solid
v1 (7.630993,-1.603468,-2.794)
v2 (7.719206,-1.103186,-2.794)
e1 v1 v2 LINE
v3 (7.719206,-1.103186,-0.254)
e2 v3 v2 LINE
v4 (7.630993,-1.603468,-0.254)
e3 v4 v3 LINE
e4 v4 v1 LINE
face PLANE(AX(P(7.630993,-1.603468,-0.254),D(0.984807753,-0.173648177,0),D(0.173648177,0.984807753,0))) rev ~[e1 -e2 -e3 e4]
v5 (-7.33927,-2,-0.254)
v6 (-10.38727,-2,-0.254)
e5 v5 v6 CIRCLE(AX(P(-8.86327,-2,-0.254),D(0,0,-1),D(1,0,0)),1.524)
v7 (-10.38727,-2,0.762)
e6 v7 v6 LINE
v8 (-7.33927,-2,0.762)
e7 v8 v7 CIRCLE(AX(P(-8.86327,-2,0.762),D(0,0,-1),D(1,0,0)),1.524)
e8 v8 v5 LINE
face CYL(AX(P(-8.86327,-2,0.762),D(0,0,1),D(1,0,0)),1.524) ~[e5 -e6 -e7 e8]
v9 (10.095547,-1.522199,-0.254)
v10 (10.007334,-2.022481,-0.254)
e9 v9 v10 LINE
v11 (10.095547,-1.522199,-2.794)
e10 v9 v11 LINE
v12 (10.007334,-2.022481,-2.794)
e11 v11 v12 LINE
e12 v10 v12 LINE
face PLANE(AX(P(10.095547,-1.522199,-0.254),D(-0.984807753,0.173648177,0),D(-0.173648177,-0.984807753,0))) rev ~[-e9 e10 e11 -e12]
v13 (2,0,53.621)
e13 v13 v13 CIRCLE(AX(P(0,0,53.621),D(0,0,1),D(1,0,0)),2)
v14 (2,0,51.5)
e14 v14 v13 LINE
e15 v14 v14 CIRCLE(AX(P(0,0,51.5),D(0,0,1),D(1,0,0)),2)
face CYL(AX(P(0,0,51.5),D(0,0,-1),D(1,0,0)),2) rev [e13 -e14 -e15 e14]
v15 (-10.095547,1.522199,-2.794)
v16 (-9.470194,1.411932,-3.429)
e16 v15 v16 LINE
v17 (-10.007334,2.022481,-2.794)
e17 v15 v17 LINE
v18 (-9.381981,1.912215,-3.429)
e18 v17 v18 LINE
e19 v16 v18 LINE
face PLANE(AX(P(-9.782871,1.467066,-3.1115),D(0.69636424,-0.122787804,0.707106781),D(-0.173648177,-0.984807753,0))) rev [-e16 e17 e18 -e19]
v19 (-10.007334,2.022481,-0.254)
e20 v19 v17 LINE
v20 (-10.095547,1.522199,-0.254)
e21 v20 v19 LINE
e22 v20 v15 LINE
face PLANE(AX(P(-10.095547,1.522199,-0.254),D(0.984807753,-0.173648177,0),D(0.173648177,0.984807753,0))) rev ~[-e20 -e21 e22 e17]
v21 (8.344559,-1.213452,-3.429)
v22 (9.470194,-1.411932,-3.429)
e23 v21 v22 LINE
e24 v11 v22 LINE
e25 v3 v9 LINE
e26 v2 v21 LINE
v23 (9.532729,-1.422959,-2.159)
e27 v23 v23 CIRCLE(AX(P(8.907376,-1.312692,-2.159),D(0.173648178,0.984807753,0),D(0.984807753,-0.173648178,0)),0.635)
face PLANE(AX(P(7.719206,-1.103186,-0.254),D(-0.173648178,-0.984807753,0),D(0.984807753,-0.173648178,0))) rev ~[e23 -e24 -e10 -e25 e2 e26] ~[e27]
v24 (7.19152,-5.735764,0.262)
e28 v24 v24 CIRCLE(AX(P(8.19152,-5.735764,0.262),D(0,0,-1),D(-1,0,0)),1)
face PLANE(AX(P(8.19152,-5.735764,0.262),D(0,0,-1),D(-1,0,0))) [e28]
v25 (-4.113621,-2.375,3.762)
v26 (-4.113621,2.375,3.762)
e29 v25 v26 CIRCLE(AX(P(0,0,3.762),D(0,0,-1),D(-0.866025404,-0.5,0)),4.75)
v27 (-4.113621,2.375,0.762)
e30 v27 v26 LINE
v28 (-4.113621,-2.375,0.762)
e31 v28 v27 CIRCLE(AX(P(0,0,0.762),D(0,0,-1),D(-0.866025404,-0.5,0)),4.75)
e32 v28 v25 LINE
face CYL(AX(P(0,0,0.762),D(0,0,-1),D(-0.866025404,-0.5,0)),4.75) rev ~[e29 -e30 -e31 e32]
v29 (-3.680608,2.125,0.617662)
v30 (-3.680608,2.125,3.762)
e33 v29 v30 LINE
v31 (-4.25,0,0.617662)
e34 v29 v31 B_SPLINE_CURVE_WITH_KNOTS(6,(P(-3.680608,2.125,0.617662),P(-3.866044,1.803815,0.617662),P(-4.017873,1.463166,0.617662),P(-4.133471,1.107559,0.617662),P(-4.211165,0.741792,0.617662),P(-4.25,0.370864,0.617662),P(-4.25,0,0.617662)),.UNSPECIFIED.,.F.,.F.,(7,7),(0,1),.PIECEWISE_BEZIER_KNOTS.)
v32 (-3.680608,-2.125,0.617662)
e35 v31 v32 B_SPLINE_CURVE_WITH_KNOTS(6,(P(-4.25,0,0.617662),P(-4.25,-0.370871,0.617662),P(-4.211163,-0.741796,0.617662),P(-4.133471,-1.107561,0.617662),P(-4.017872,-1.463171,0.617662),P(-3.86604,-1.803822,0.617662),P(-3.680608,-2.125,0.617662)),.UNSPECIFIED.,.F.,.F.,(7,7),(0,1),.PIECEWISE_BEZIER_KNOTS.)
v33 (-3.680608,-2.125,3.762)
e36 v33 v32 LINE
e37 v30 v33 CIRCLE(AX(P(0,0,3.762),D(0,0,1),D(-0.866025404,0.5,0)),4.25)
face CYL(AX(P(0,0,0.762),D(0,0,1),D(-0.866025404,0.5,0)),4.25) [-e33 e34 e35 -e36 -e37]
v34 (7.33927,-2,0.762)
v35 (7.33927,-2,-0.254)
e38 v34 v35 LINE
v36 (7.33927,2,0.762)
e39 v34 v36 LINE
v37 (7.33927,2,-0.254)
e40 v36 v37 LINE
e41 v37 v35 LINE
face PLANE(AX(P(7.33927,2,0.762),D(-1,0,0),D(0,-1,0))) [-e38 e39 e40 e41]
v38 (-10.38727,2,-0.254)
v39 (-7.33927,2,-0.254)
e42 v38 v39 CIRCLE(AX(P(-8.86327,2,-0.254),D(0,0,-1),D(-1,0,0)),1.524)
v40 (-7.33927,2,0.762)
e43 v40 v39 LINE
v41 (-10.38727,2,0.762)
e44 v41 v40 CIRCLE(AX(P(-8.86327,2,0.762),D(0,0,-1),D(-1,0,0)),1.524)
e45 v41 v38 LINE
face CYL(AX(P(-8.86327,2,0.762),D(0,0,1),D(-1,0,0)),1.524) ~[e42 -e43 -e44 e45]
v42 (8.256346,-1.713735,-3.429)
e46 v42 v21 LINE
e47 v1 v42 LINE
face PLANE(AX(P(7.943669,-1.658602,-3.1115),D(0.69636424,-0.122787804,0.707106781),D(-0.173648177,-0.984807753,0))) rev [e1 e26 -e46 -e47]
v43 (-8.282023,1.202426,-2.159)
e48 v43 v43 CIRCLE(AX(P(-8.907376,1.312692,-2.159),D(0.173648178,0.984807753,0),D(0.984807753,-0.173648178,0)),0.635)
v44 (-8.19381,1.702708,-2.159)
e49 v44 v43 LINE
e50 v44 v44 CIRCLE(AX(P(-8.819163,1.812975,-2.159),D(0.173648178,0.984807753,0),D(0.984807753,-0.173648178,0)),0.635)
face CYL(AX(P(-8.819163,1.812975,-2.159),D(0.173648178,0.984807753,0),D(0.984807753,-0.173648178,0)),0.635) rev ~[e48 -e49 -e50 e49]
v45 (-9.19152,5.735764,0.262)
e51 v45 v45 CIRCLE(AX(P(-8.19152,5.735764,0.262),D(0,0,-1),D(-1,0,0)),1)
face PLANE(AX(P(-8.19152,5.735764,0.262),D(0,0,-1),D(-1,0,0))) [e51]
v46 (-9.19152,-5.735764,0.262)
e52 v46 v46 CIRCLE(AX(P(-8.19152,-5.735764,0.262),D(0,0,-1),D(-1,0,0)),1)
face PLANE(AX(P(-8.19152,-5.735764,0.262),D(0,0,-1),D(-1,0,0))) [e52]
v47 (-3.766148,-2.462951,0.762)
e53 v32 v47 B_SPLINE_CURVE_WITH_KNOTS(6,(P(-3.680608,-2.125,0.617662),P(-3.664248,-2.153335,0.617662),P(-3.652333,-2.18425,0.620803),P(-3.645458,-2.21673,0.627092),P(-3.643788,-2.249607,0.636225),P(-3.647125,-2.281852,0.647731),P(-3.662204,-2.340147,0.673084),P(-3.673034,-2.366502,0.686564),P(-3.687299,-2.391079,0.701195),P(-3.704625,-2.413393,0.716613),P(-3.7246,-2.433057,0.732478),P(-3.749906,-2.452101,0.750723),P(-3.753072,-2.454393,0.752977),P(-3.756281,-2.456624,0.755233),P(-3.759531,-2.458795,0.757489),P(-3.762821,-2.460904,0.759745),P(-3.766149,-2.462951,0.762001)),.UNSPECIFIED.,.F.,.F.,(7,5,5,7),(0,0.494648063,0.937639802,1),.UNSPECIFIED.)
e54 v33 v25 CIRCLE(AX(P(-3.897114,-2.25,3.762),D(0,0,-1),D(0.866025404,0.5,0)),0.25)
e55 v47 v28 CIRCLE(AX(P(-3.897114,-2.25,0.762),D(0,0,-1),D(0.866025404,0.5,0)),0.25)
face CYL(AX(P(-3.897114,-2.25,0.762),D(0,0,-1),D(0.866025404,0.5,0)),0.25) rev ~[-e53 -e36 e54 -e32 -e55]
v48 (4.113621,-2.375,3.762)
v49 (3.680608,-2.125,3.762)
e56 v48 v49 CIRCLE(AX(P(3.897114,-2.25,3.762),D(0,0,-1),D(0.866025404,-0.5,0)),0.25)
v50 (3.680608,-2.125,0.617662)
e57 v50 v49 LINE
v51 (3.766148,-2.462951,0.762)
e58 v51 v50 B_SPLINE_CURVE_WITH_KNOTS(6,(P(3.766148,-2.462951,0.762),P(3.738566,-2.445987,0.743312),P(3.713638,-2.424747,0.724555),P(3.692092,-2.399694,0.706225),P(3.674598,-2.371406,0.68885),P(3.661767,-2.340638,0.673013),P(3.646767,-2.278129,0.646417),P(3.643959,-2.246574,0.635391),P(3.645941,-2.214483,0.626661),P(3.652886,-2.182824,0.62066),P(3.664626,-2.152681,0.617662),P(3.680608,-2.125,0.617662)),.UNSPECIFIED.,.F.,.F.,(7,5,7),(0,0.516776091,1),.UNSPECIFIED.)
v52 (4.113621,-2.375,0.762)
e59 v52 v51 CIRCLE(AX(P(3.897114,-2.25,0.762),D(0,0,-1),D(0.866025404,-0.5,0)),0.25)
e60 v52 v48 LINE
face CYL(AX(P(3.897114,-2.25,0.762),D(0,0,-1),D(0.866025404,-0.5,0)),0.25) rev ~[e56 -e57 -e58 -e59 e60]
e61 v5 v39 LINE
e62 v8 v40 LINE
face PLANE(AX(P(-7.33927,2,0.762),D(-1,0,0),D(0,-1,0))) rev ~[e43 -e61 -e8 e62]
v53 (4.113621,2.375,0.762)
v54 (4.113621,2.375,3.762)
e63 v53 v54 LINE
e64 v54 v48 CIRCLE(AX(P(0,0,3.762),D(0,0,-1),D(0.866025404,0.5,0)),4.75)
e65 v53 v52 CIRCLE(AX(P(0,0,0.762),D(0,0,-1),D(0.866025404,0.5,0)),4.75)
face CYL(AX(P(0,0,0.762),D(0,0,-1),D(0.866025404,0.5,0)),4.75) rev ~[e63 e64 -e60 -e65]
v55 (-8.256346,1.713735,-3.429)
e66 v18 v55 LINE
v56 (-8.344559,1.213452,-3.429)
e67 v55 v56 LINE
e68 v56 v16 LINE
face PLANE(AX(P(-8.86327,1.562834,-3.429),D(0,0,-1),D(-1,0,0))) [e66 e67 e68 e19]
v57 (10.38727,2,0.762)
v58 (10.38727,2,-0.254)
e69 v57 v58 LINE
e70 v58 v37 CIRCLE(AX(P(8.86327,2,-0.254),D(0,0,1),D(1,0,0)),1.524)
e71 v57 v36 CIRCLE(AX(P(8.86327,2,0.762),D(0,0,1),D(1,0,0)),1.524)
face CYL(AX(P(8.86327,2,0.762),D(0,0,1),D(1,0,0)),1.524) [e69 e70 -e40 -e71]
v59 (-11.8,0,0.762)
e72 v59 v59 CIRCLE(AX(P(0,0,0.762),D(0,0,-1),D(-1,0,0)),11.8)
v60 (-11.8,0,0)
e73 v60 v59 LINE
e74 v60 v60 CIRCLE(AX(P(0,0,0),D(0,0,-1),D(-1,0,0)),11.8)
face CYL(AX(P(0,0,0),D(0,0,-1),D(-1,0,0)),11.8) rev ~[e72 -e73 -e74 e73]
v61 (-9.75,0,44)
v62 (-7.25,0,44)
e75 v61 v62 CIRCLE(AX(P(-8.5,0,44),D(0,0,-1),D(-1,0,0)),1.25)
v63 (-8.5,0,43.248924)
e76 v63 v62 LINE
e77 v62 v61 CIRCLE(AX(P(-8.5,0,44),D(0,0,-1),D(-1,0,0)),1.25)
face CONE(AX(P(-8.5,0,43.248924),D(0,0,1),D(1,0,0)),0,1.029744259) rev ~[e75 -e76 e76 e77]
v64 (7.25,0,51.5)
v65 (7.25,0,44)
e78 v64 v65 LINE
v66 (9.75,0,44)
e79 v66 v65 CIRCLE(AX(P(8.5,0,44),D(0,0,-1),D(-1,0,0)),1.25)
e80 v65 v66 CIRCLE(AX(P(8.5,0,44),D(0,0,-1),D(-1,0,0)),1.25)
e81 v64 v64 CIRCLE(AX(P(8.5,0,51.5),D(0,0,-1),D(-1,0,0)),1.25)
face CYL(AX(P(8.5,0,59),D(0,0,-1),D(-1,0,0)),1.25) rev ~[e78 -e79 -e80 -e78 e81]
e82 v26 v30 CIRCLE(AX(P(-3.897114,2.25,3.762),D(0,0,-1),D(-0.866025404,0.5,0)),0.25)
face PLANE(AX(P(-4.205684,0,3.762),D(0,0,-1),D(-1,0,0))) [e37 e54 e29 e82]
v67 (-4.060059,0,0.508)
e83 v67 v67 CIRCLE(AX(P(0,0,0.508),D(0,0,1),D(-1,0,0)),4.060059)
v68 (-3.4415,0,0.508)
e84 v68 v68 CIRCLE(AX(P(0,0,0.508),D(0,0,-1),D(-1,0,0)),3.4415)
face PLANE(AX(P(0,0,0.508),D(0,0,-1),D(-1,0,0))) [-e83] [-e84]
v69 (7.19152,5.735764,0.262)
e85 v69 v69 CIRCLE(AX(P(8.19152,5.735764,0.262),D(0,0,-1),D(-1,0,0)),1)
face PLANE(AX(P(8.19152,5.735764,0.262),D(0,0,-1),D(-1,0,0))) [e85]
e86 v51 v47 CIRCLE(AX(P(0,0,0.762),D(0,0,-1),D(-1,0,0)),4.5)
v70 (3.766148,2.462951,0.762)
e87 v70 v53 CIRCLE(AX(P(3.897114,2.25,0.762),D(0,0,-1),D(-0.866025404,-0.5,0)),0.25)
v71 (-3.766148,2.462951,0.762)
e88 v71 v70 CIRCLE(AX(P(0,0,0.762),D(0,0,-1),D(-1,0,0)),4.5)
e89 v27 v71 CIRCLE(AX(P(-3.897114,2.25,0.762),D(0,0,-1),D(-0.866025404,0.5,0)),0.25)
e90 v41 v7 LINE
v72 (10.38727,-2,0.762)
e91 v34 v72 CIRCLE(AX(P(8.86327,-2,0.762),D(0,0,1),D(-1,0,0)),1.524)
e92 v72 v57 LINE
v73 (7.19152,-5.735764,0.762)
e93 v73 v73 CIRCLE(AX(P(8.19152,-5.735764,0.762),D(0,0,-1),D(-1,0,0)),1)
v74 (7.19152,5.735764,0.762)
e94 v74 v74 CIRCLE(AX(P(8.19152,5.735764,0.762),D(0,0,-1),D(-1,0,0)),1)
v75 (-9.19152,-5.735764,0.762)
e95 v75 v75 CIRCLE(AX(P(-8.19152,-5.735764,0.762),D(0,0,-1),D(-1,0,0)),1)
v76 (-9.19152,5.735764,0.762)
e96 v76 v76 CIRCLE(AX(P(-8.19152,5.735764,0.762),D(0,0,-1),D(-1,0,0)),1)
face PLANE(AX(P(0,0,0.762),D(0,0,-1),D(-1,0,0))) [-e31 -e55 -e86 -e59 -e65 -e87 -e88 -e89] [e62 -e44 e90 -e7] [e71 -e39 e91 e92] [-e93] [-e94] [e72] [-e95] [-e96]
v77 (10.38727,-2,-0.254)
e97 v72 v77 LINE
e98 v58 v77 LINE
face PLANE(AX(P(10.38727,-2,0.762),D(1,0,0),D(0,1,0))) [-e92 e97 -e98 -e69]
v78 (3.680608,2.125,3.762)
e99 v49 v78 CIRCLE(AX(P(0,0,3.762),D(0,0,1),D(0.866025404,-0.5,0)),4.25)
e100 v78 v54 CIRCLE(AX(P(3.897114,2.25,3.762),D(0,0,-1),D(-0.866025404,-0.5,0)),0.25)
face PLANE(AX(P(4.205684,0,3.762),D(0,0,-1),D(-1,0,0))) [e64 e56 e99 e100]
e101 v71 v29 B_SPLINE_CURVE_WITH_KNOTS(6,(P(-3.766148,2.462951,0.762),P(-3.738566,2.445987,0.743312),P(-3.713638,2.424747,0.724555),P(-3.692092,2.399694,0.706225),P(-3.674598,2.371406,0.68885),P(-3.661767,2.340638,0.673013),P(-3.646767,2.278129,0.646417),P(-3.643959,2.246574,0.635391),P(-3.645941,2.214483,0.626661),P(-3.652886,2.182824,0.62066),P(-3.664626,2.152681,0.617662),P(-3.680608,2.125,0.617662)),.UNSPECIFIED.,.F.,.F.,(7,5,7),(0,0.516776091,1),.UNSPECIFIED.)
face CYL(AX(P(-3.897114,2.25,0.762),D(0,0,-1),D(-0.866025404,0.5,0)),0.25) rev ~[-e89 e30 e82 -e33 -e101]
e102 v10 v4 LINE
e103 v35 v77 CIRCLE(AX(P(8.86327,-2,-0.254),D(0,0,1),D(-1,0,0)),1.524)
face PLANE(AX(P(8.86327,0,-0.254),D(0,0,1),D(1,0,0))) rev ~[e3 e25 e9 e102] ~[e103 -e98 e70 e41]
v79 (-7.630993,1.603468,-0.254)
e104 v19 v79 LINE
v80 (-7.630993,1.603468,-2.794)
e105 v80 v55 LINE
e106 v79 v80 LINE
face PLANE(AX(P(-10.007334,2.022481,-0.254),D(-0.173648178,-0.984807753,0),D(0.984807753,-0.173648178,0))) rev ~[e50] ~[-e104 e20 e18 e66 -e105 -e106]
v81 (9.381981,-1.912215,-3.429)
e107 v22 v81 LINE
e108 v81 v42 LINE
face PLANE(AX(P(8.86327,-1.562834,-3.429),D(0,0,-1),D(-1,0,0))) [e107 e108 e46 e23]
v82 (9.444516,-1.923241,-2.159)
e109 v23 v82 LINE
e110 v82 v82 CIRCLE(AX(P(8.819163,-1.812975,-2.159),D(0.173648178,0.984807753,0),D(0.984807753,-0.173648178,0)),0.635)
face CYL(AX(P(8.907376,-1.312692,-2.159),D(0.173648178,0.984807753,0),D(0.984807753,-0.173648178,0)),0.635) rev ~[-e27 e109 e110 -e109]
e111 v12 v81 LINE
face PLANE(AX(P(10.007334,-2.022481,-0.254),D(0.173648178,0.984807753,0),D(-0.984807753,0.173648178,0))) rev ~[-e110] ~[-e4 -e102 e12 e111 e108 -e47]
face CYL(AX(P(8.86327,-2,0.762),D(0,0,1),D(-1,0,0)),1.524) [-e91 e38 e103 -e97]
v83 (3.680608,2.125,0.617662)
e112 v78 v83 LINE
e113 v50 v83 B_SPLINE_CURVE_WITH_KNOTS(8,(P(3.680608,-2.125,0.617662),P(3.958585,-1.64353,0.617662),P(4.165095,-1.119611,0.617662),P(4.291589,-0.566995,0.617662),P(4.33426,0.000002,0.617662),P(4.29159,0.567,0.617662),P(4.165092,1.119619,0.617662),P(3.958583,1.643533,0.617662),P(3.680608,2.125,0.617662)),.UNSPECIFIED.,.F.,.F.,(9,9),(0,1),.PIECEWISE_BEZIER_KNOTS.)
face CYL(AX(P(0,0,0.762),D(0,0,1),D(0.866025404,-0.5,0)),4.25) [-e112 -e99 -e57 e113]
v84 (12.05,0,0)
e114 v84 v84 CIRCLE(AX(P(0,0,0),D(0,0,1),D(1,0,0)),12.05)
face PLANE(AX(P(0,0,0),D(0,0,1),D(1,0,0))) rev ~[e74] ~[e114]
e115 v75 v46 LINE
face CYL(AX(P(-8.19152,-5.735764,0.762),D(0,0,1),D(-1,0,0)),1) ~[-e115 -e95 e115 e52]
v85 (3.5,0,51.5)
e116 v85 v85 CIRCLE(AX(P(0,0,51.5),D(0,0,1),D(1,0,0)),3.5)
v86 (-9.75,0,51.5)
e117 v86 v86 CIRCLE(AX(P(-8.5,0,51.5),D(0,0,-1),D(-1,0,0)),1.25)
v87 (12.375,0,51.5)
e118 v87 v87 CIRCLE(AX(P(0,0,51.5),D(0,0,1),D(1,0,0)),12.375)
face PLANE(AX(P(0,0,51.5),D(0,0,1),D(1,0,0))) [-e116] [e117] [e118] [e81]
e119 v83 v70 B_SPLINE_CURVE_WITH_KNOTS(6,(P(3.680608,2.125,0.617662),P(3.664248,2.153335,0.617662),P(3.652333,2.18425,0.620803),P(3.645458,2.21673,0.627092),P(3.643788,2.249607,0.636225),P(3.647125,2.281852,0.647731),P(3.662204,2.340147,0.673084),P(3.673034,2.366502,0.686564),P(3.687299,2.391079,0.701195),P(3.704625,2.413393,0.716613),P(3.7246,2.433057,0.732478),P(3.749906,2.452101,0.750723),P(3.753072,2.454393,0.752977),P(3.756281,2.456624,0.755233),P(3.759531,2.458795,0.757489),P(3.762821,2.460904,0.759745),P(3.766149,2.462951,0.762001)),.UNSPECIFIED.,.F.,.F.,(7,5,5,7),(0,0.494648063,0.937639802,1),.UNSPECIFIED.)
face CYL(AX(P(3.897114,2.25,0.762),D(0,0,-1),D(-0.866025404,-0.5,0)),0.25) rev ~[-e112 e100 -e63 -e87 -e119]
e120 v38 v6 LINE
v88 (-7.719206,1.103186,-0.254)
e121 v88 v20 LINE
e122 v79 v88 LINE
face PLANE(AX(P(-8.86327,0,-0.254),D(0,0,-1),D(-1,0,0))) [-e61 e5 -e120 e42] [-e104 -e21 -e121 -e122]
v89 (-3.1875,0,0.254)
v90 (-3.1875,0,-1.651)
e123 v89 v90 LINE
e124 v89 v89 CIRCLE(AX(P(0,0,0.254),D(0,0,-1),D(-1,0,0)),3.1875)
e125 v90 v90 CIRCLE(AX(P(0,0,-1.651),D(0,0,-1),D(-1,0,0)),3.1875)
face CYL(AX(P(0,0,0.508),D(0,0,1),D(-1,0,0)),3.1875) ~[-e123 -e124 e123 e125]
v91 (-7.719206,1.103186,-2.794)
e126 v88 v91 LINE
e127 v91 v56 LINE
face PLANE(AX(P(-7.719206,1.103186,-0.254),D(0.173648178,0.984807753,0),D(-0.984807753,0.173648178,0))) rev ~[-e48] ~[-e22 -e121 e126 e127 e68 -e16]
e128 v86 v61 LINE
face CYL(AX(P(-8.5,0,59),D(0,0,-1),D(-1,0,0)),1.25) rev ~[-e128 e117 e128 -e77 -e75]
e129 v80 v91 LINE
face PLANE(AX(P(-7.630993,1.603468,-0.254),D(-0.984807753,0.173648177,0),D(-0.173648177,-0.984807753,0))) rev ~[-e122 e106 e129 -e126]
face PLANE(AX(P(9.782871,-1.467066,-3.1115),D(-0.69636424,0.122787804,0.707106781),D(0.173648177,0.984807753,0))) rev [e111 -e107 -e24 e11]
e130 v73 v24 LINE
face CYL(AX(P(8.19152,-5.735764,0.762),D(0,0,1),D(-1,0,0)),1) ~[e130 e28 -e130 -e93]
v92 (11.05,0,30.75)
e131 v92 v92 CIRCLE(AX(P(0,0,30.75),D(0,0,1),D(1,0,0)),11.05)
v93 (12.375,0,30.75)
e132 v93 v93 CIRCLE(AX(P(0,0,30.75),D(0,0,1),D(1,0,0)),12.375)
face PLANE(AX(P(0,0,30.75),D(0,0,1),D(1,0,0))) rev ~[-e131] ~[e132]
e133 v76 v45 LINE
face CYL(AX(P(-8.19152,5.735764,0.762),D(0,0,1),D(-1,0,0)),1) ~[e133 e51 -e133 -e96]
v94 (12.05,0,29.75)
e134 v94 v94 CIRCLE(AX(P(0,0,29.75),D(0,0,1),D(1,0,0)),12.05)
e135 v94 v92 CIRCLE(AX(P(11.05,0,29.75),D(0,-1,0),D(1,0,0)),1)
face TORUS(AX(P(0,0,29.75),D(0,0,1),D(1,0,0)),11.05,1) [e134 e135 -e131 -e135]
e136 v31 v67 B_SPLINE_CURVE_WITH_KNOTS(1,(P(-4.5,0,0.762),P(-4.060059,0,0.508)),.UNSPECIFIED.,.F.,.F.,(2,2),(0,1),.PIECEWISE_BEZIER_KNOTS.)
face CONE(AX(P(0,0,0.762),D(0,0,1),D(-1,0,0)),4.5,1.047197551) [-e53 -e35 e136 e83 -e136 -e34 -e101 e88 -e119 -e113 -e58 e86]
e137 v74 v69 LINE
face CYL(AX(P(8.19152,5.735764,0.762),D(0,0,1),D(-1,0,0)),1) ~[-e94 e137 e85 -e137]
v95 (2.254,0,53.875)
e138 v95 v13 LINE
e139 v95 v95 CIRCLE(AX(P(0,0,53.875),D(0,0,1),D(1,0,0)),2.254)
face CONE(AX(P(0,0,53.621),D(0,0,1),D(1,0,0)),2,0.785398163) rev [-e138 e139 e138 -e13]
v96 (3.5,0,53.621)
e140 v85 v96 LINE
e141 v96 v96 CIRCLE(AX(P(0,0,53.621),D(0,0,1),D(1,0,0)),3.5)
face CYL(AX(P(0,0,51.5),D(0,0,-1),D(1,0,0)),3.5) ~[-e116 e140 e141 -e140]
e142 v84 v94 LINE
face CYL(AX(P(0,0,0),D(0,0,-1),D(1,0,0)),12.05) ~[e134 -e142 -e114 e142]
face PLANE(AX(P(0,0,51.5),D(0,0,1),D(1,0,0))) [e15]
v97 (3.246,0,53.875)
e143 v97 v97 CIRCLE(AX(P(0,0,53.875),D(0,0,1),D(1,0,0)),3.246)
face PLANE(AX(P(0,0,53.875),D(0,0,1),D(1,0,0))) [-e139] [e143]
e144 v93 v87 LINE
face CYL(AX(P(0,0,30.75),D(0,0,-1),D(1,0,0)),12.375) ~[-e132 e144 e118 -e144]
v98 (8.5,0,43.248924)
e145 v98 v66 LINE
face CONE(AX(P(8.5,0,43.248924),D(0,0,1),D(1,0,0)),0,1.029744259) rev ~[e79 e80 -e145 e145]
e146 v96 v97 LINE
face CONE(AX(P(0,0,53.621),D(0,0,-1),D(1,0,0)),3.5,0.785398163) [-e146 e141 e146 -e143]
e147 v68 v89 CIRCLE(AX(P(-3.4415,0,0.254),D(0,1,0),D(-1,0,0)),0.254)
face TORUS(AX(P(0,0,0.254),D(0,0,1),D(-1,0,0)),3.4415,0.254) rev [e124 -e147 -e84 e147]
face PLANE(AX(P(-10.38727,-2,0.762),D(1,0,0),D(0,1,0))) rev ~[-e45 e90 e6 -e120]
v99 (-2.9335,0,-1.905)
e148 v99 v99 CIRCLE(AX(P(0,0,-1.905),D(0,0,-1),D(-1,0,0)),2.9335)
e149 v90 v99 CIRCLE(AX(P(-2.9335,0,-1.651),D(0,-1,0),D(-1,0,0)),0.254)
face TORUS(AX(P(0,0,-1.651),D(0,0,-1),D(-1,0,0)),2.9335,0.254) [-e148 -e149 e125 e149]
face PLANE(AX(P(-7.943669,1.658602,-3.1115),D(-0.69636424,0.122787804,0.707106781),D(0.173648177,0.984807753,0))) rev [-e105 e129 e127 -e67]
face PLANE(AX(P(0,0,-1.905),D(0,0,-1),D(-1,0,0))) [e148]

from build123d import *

# Parameters (mm, degrees)
SKETCH1_R                 = 12.05
BOSS_EXTRUDE1_DEPTH       = 30.75
FILLET2_R                 = 1
SKETCH2_R                 = 12.375
BOSS_EXTRUDE2_DEPTH       = 20.75
SKETCH3_R                 = 3.5
SKETCH3_R_2               = 2
BOSS_EXTRUDE3_DEPTH       = 2.375
CHAMFER1_SIZE             = 0.254
M3X0_5_TAPPED_HOLE1_D     = 2.5
M3X0_5_TAPPED_HOLE1_DEPTH = 7.5
M3X0_5_TAPPED_HOLE1_TIP   = 0.751075774
SKETCH7_R                 = 11.8
CUT_EXTRUDE1_DEPTH        = 0.762
SKETCH8_R                 = 4.5
BOSS_EXTRUDE4_DEPTH       = 0.254
BOSS_EXTRUDE4_TAPER       = 60
SKETCH9_R                 = 3.1875
BOSS_EXTRUDE5_DEPTH       = 2.413
FILLET1_R                 = 0.254
SKETCH10_R                = 1.524
BOSS_EXTRUDE6_DEPTH       = 1.016
BOSS_EXTRUDE7_DEPTH       = 3.175
SKETCH12_R                = 0.635
CUT_EXTRUDE2_DEPTH        = 3.175
CHAMFER2_SIZE             = 0.635
BOSS_EXTRUDE8_DEPTH       = 1.016
CUT_EXTRUDE3_DEPTH        = 10
CUT_EXTRUDE3_DEPTH_BACK   = 3
SKETCH15_R                = 1
BOSS_EXTRUDE9_DEPTH       = 0.5


with BuildPart() as part:
    # Sketch1 → Boss-Extrude1 (new body)
    with BuildSketch(Plane.XY):
        Circle(SKETCH1_R)
    extrude(amount=BOSS_EXTRUDE1_DEPTH)

    # Fillet2
    fillet2_edges = [part.edges().sort_by_distance(p)[0] for p in [
        (-12.05, 0, 30.75),
    ]]
    fillet(fillet2_edges, radius=FILLET2_R)

    # Sketch2 → Boss-Extrude2 (add)
    with BuildSketch(Plane.XY.offset(30.75)):
        Circle(SKETCH2_R)
    extrude(amount=BOSS_EXTRUDE2_DEPTH)

    # Sketch3 → Boss-Extrude3 (add)
    with BuildSketch(Plane.XY.offset(51.5)):
        Circle(SKETCH3_R)
        Circle(SKETCH3_R_2, mode=Mode.SUBTRACT)
    extrude(amount=BOSS_EXTRUDE3_DEPTH)

    # Chamfer1
    chamfer1_edges = [part.edges().sort_by_distance(p)[0] for p in [
        (-3.5, 0, 53.875),
        (-2, 0, 53.875),
    ]]
    chamfer(chamfer1_edges, length=CHAMFER1_SIZE)

    # M3x0.5 Tapped Hole1
    with Locations(Plane.XY.offset(51.5)):
        with Locations((-8.5, 0), (8.5, 0)):
            Hole(M3X0_5_TAPPED_HOLE1_D / 2, depth=M3X0_5_TAPPED_HOLE1_DEPTH)
            with Locations((0, 0, -(M3X0_5_TAPPED_HOLE1_DEPTH + M3X0_5_TAPPED_HOLE1_TIP / 2))):  # 118° drill point
                Cone(0, M3X0_5_TAPPED_HOLE1_D / 2, M3X0_5_TAPPED_HOLE1_TIP, mode=Mode.SUBTRACT)

    # Sketch7 → Cut-Extrude1 (cut)
    with BuildSketch(Plane(origin=(0, 0, 0), x_dir=(-1, 0, 0), z_dir=(0, 0, -1))):
        Circle(SKETCH7_R)
    extrude(amount=-CUT_EXTRUDE1_DEPTH, mode=Mode.SUBTRACT)

    # Sketch8 → Boss-Extrude4 (add)
    with BuildSketch(Plane(origin=(0, 0, 0.762), x_dir=(-1, 0, 0), z_dir=(0, 0, -1))):
        Circle(SKETCH8_R)
    extrude(amount=BOSS_EXTRUDE4_DEPTH, taper=BOSS_EXTRUDE4_TAPER)

    # Sketch9 → Boss-Extrude5 (add)
    with BuildSketch(Plane(origin=(0, 0, 0.508), x_dir=(-1, 0, 0), z_dir=(0, 0, -1))):
        Circle(SKETCH9_R)
    extrude(amount=BOSS_EXTRUDE5_DEPTH)

    # Fillet1
    fillet1_edges = [part.edges().sort_by_distance(p)[0] for p in [
        (3.1875, 0, 0.508),
        (3.1875, 0, -1.905),
    ]]
    fillet(fillet1_edges, radius=FILLET1_R)

    # Sketch10 → Boss-Extrude6 (add)
    with BuildSketch(Plane(origin=(0, 0, 0.762), x_dir=(-1, 0, 0), z_dir=(0, 0, -1))):
        with Locations((8.863269777, 1.562833599)):
            Circle(SKETCH10_R)
        with Locations((-8.863269777, -1.562833599)):
            Circle(SKETCH10_R)
    extrude(amount=BOSS_EXTRUDE6_DEPTH)

    # Sketch11 → Boss-Extrude7 (add)
    with BuildSketch(Plane(origin=(0, 0, -0.254), x_dir=(-1, 0, 0), z_dir=(0, 0, -1))):
        Polygon((-10.007333694, -2.022481295), (-7.630992586, -1.603468242), (-7.71920586, -1.103185903), (-10.095546968, -1.522198956), align=None)
        Polygon((7.71920586, 1.103185903), (10.095546968, 1.522198956), (10.007333694, 2.022481295), (7.630992586, 1.603468242), align=None)
    extrude(amount=BOSS_EXTRUDE7_DEPTH)

    # Sketch12 → Cut-Extrude2 (cut)
    with BuildSketch(Plane(origin=(0.044106637, 0.250141169, 0), x_dir=(0.984807753, -0.173648178, 0), z_dir=(0.173648178, 0.984807753, 0))):
        with Locations((-9, 2.159)):
            Circle(SKETCH12_R)
        with Locations((9, 2.159)):
            Circle(SKETCH12_R)
    extrude(amount=-CUT_EXTRUDE2_DEPTH, mode=Mode.SUBTRACT)

    # Chamfer2
    chamfer2_edges = [part.edges().sort_by_distance(p)[0] for p in [
        (-7.675099223, 1.353327073, -3.429),
        (-10.051440331, 1.772340125, -3.429),
        (10.051440331, -1.772340125, -3.429),
        (7.675099223, -1.353327073, -3.429),
    ]]
    chamfer(chamfer2_edges, length=CHAMFER2_SIZE)

    # Sketch13 → Boss-Extrude8 (add)
    with BuildSketch(Plane(origin=(0, 0, 0.762), x_dir=(-1, 0, 0), z_dir=(0, 0, -1))):
        with BuildLine():
            Line((-7.339269777, 2), (-7.339269777, -2))
            ThreePointArc((-7.339269777, -2), (-8.863269777, -3.524), (-10.387269777, -2))
            Line((-10.387269777, -2), (-10.387269777, 2))
            ThreePointArc((-10.387269777, 2), (-8.863269777, 3.524), (-7.339269777, 2))
        make_face()
        with BuildLine():
            Line((7.339269777, 2), (7.339269777, -2))
            ThreePointArc((7.339269777, -2), (8.863269777, -3.524), (10.387269777, -2))
            Line((10.387269777, -2), (10.387269777, 2))
            ThreePointArc((10.387269777, 2), (8.863269777, 3.524), (7.339269777, 2))
        make_face()
    extrude(amount=BOSS_EXTRUDE8_DEPTH)

    # Sketch14 → Cut-Extrude3 (cut, two sides)
    with BuildSketch(Plane(origin=(0, 0, 0.762), x_dir=(-1, 0, 0), z_dir=(0, 0, -1))) as cut_extrude3_sk:
        with BuildLine():
            ThreePointArc((-4.113620668, 2.375), (-4.75, 0), (-4.113620668, -2.375))
            ThreePointArc((-4.113620668, -2.375), (-3.772114317, -2.466506351), (-3.680607966, -2.125))
            ThreePointArc((-3.680607966, -2.125), (-4.25, 0), (-3.680607966, 2.125))
            ThreePointArc((-3.680607966, 2.125), (-3.772114317, 2.466506351), (-4.113620668, 2.375))
        make_face()
        with BuildLine():
            ThreePointArc((4.113620668, -2.375), (4.75, 0), (4.113620668, 2.375))
            ThreePointArc((4.113620668, 2.375), (3.772114317, 2.466506351), (3.680607966, 2.125))
            ThreePointArc((3.680607966, 2.125), (4.25, 0), (3.680607966, -2.125))
            ThreePointArc((3.680607966, -2.125), (3.772114317, -2.466506351), (4.113620668, -2.375))
        make_face()
    extrude(amount=CUT_EXTRUDE3_DEPTH, mode=Mode.SUBTRACT)
    extrude(cut_extrude3_sk.sketch, amount=-CUT_EXTRUDE3_DEPTH_BACK, mode=Mode.SUBTRACT)

    # Sketch15 → Boss-Extrude9 (add)
    with BuildSketch(Plane(origin=(0, 0, 0.762), x_dir=(-1, 0, 0), z_dir=(0, 0, -1))):
        with Locations((-8.191520443, 5.735764364)):
            Circle(SKETCH15_R)
        with Locations((8.191520443, 5.735764364)):
            Circle(SKETCH15_R)
        with Locations((8.191520443, -5.735764364)):
            Circle(SKETCH15_R)
        with Locations((-8.191520443, -5.735764364)):
            Circle(SKETCH15_R)
    extrude(amount=BOSS_EXTRUDE9_DEPTH)


solid = part.part
